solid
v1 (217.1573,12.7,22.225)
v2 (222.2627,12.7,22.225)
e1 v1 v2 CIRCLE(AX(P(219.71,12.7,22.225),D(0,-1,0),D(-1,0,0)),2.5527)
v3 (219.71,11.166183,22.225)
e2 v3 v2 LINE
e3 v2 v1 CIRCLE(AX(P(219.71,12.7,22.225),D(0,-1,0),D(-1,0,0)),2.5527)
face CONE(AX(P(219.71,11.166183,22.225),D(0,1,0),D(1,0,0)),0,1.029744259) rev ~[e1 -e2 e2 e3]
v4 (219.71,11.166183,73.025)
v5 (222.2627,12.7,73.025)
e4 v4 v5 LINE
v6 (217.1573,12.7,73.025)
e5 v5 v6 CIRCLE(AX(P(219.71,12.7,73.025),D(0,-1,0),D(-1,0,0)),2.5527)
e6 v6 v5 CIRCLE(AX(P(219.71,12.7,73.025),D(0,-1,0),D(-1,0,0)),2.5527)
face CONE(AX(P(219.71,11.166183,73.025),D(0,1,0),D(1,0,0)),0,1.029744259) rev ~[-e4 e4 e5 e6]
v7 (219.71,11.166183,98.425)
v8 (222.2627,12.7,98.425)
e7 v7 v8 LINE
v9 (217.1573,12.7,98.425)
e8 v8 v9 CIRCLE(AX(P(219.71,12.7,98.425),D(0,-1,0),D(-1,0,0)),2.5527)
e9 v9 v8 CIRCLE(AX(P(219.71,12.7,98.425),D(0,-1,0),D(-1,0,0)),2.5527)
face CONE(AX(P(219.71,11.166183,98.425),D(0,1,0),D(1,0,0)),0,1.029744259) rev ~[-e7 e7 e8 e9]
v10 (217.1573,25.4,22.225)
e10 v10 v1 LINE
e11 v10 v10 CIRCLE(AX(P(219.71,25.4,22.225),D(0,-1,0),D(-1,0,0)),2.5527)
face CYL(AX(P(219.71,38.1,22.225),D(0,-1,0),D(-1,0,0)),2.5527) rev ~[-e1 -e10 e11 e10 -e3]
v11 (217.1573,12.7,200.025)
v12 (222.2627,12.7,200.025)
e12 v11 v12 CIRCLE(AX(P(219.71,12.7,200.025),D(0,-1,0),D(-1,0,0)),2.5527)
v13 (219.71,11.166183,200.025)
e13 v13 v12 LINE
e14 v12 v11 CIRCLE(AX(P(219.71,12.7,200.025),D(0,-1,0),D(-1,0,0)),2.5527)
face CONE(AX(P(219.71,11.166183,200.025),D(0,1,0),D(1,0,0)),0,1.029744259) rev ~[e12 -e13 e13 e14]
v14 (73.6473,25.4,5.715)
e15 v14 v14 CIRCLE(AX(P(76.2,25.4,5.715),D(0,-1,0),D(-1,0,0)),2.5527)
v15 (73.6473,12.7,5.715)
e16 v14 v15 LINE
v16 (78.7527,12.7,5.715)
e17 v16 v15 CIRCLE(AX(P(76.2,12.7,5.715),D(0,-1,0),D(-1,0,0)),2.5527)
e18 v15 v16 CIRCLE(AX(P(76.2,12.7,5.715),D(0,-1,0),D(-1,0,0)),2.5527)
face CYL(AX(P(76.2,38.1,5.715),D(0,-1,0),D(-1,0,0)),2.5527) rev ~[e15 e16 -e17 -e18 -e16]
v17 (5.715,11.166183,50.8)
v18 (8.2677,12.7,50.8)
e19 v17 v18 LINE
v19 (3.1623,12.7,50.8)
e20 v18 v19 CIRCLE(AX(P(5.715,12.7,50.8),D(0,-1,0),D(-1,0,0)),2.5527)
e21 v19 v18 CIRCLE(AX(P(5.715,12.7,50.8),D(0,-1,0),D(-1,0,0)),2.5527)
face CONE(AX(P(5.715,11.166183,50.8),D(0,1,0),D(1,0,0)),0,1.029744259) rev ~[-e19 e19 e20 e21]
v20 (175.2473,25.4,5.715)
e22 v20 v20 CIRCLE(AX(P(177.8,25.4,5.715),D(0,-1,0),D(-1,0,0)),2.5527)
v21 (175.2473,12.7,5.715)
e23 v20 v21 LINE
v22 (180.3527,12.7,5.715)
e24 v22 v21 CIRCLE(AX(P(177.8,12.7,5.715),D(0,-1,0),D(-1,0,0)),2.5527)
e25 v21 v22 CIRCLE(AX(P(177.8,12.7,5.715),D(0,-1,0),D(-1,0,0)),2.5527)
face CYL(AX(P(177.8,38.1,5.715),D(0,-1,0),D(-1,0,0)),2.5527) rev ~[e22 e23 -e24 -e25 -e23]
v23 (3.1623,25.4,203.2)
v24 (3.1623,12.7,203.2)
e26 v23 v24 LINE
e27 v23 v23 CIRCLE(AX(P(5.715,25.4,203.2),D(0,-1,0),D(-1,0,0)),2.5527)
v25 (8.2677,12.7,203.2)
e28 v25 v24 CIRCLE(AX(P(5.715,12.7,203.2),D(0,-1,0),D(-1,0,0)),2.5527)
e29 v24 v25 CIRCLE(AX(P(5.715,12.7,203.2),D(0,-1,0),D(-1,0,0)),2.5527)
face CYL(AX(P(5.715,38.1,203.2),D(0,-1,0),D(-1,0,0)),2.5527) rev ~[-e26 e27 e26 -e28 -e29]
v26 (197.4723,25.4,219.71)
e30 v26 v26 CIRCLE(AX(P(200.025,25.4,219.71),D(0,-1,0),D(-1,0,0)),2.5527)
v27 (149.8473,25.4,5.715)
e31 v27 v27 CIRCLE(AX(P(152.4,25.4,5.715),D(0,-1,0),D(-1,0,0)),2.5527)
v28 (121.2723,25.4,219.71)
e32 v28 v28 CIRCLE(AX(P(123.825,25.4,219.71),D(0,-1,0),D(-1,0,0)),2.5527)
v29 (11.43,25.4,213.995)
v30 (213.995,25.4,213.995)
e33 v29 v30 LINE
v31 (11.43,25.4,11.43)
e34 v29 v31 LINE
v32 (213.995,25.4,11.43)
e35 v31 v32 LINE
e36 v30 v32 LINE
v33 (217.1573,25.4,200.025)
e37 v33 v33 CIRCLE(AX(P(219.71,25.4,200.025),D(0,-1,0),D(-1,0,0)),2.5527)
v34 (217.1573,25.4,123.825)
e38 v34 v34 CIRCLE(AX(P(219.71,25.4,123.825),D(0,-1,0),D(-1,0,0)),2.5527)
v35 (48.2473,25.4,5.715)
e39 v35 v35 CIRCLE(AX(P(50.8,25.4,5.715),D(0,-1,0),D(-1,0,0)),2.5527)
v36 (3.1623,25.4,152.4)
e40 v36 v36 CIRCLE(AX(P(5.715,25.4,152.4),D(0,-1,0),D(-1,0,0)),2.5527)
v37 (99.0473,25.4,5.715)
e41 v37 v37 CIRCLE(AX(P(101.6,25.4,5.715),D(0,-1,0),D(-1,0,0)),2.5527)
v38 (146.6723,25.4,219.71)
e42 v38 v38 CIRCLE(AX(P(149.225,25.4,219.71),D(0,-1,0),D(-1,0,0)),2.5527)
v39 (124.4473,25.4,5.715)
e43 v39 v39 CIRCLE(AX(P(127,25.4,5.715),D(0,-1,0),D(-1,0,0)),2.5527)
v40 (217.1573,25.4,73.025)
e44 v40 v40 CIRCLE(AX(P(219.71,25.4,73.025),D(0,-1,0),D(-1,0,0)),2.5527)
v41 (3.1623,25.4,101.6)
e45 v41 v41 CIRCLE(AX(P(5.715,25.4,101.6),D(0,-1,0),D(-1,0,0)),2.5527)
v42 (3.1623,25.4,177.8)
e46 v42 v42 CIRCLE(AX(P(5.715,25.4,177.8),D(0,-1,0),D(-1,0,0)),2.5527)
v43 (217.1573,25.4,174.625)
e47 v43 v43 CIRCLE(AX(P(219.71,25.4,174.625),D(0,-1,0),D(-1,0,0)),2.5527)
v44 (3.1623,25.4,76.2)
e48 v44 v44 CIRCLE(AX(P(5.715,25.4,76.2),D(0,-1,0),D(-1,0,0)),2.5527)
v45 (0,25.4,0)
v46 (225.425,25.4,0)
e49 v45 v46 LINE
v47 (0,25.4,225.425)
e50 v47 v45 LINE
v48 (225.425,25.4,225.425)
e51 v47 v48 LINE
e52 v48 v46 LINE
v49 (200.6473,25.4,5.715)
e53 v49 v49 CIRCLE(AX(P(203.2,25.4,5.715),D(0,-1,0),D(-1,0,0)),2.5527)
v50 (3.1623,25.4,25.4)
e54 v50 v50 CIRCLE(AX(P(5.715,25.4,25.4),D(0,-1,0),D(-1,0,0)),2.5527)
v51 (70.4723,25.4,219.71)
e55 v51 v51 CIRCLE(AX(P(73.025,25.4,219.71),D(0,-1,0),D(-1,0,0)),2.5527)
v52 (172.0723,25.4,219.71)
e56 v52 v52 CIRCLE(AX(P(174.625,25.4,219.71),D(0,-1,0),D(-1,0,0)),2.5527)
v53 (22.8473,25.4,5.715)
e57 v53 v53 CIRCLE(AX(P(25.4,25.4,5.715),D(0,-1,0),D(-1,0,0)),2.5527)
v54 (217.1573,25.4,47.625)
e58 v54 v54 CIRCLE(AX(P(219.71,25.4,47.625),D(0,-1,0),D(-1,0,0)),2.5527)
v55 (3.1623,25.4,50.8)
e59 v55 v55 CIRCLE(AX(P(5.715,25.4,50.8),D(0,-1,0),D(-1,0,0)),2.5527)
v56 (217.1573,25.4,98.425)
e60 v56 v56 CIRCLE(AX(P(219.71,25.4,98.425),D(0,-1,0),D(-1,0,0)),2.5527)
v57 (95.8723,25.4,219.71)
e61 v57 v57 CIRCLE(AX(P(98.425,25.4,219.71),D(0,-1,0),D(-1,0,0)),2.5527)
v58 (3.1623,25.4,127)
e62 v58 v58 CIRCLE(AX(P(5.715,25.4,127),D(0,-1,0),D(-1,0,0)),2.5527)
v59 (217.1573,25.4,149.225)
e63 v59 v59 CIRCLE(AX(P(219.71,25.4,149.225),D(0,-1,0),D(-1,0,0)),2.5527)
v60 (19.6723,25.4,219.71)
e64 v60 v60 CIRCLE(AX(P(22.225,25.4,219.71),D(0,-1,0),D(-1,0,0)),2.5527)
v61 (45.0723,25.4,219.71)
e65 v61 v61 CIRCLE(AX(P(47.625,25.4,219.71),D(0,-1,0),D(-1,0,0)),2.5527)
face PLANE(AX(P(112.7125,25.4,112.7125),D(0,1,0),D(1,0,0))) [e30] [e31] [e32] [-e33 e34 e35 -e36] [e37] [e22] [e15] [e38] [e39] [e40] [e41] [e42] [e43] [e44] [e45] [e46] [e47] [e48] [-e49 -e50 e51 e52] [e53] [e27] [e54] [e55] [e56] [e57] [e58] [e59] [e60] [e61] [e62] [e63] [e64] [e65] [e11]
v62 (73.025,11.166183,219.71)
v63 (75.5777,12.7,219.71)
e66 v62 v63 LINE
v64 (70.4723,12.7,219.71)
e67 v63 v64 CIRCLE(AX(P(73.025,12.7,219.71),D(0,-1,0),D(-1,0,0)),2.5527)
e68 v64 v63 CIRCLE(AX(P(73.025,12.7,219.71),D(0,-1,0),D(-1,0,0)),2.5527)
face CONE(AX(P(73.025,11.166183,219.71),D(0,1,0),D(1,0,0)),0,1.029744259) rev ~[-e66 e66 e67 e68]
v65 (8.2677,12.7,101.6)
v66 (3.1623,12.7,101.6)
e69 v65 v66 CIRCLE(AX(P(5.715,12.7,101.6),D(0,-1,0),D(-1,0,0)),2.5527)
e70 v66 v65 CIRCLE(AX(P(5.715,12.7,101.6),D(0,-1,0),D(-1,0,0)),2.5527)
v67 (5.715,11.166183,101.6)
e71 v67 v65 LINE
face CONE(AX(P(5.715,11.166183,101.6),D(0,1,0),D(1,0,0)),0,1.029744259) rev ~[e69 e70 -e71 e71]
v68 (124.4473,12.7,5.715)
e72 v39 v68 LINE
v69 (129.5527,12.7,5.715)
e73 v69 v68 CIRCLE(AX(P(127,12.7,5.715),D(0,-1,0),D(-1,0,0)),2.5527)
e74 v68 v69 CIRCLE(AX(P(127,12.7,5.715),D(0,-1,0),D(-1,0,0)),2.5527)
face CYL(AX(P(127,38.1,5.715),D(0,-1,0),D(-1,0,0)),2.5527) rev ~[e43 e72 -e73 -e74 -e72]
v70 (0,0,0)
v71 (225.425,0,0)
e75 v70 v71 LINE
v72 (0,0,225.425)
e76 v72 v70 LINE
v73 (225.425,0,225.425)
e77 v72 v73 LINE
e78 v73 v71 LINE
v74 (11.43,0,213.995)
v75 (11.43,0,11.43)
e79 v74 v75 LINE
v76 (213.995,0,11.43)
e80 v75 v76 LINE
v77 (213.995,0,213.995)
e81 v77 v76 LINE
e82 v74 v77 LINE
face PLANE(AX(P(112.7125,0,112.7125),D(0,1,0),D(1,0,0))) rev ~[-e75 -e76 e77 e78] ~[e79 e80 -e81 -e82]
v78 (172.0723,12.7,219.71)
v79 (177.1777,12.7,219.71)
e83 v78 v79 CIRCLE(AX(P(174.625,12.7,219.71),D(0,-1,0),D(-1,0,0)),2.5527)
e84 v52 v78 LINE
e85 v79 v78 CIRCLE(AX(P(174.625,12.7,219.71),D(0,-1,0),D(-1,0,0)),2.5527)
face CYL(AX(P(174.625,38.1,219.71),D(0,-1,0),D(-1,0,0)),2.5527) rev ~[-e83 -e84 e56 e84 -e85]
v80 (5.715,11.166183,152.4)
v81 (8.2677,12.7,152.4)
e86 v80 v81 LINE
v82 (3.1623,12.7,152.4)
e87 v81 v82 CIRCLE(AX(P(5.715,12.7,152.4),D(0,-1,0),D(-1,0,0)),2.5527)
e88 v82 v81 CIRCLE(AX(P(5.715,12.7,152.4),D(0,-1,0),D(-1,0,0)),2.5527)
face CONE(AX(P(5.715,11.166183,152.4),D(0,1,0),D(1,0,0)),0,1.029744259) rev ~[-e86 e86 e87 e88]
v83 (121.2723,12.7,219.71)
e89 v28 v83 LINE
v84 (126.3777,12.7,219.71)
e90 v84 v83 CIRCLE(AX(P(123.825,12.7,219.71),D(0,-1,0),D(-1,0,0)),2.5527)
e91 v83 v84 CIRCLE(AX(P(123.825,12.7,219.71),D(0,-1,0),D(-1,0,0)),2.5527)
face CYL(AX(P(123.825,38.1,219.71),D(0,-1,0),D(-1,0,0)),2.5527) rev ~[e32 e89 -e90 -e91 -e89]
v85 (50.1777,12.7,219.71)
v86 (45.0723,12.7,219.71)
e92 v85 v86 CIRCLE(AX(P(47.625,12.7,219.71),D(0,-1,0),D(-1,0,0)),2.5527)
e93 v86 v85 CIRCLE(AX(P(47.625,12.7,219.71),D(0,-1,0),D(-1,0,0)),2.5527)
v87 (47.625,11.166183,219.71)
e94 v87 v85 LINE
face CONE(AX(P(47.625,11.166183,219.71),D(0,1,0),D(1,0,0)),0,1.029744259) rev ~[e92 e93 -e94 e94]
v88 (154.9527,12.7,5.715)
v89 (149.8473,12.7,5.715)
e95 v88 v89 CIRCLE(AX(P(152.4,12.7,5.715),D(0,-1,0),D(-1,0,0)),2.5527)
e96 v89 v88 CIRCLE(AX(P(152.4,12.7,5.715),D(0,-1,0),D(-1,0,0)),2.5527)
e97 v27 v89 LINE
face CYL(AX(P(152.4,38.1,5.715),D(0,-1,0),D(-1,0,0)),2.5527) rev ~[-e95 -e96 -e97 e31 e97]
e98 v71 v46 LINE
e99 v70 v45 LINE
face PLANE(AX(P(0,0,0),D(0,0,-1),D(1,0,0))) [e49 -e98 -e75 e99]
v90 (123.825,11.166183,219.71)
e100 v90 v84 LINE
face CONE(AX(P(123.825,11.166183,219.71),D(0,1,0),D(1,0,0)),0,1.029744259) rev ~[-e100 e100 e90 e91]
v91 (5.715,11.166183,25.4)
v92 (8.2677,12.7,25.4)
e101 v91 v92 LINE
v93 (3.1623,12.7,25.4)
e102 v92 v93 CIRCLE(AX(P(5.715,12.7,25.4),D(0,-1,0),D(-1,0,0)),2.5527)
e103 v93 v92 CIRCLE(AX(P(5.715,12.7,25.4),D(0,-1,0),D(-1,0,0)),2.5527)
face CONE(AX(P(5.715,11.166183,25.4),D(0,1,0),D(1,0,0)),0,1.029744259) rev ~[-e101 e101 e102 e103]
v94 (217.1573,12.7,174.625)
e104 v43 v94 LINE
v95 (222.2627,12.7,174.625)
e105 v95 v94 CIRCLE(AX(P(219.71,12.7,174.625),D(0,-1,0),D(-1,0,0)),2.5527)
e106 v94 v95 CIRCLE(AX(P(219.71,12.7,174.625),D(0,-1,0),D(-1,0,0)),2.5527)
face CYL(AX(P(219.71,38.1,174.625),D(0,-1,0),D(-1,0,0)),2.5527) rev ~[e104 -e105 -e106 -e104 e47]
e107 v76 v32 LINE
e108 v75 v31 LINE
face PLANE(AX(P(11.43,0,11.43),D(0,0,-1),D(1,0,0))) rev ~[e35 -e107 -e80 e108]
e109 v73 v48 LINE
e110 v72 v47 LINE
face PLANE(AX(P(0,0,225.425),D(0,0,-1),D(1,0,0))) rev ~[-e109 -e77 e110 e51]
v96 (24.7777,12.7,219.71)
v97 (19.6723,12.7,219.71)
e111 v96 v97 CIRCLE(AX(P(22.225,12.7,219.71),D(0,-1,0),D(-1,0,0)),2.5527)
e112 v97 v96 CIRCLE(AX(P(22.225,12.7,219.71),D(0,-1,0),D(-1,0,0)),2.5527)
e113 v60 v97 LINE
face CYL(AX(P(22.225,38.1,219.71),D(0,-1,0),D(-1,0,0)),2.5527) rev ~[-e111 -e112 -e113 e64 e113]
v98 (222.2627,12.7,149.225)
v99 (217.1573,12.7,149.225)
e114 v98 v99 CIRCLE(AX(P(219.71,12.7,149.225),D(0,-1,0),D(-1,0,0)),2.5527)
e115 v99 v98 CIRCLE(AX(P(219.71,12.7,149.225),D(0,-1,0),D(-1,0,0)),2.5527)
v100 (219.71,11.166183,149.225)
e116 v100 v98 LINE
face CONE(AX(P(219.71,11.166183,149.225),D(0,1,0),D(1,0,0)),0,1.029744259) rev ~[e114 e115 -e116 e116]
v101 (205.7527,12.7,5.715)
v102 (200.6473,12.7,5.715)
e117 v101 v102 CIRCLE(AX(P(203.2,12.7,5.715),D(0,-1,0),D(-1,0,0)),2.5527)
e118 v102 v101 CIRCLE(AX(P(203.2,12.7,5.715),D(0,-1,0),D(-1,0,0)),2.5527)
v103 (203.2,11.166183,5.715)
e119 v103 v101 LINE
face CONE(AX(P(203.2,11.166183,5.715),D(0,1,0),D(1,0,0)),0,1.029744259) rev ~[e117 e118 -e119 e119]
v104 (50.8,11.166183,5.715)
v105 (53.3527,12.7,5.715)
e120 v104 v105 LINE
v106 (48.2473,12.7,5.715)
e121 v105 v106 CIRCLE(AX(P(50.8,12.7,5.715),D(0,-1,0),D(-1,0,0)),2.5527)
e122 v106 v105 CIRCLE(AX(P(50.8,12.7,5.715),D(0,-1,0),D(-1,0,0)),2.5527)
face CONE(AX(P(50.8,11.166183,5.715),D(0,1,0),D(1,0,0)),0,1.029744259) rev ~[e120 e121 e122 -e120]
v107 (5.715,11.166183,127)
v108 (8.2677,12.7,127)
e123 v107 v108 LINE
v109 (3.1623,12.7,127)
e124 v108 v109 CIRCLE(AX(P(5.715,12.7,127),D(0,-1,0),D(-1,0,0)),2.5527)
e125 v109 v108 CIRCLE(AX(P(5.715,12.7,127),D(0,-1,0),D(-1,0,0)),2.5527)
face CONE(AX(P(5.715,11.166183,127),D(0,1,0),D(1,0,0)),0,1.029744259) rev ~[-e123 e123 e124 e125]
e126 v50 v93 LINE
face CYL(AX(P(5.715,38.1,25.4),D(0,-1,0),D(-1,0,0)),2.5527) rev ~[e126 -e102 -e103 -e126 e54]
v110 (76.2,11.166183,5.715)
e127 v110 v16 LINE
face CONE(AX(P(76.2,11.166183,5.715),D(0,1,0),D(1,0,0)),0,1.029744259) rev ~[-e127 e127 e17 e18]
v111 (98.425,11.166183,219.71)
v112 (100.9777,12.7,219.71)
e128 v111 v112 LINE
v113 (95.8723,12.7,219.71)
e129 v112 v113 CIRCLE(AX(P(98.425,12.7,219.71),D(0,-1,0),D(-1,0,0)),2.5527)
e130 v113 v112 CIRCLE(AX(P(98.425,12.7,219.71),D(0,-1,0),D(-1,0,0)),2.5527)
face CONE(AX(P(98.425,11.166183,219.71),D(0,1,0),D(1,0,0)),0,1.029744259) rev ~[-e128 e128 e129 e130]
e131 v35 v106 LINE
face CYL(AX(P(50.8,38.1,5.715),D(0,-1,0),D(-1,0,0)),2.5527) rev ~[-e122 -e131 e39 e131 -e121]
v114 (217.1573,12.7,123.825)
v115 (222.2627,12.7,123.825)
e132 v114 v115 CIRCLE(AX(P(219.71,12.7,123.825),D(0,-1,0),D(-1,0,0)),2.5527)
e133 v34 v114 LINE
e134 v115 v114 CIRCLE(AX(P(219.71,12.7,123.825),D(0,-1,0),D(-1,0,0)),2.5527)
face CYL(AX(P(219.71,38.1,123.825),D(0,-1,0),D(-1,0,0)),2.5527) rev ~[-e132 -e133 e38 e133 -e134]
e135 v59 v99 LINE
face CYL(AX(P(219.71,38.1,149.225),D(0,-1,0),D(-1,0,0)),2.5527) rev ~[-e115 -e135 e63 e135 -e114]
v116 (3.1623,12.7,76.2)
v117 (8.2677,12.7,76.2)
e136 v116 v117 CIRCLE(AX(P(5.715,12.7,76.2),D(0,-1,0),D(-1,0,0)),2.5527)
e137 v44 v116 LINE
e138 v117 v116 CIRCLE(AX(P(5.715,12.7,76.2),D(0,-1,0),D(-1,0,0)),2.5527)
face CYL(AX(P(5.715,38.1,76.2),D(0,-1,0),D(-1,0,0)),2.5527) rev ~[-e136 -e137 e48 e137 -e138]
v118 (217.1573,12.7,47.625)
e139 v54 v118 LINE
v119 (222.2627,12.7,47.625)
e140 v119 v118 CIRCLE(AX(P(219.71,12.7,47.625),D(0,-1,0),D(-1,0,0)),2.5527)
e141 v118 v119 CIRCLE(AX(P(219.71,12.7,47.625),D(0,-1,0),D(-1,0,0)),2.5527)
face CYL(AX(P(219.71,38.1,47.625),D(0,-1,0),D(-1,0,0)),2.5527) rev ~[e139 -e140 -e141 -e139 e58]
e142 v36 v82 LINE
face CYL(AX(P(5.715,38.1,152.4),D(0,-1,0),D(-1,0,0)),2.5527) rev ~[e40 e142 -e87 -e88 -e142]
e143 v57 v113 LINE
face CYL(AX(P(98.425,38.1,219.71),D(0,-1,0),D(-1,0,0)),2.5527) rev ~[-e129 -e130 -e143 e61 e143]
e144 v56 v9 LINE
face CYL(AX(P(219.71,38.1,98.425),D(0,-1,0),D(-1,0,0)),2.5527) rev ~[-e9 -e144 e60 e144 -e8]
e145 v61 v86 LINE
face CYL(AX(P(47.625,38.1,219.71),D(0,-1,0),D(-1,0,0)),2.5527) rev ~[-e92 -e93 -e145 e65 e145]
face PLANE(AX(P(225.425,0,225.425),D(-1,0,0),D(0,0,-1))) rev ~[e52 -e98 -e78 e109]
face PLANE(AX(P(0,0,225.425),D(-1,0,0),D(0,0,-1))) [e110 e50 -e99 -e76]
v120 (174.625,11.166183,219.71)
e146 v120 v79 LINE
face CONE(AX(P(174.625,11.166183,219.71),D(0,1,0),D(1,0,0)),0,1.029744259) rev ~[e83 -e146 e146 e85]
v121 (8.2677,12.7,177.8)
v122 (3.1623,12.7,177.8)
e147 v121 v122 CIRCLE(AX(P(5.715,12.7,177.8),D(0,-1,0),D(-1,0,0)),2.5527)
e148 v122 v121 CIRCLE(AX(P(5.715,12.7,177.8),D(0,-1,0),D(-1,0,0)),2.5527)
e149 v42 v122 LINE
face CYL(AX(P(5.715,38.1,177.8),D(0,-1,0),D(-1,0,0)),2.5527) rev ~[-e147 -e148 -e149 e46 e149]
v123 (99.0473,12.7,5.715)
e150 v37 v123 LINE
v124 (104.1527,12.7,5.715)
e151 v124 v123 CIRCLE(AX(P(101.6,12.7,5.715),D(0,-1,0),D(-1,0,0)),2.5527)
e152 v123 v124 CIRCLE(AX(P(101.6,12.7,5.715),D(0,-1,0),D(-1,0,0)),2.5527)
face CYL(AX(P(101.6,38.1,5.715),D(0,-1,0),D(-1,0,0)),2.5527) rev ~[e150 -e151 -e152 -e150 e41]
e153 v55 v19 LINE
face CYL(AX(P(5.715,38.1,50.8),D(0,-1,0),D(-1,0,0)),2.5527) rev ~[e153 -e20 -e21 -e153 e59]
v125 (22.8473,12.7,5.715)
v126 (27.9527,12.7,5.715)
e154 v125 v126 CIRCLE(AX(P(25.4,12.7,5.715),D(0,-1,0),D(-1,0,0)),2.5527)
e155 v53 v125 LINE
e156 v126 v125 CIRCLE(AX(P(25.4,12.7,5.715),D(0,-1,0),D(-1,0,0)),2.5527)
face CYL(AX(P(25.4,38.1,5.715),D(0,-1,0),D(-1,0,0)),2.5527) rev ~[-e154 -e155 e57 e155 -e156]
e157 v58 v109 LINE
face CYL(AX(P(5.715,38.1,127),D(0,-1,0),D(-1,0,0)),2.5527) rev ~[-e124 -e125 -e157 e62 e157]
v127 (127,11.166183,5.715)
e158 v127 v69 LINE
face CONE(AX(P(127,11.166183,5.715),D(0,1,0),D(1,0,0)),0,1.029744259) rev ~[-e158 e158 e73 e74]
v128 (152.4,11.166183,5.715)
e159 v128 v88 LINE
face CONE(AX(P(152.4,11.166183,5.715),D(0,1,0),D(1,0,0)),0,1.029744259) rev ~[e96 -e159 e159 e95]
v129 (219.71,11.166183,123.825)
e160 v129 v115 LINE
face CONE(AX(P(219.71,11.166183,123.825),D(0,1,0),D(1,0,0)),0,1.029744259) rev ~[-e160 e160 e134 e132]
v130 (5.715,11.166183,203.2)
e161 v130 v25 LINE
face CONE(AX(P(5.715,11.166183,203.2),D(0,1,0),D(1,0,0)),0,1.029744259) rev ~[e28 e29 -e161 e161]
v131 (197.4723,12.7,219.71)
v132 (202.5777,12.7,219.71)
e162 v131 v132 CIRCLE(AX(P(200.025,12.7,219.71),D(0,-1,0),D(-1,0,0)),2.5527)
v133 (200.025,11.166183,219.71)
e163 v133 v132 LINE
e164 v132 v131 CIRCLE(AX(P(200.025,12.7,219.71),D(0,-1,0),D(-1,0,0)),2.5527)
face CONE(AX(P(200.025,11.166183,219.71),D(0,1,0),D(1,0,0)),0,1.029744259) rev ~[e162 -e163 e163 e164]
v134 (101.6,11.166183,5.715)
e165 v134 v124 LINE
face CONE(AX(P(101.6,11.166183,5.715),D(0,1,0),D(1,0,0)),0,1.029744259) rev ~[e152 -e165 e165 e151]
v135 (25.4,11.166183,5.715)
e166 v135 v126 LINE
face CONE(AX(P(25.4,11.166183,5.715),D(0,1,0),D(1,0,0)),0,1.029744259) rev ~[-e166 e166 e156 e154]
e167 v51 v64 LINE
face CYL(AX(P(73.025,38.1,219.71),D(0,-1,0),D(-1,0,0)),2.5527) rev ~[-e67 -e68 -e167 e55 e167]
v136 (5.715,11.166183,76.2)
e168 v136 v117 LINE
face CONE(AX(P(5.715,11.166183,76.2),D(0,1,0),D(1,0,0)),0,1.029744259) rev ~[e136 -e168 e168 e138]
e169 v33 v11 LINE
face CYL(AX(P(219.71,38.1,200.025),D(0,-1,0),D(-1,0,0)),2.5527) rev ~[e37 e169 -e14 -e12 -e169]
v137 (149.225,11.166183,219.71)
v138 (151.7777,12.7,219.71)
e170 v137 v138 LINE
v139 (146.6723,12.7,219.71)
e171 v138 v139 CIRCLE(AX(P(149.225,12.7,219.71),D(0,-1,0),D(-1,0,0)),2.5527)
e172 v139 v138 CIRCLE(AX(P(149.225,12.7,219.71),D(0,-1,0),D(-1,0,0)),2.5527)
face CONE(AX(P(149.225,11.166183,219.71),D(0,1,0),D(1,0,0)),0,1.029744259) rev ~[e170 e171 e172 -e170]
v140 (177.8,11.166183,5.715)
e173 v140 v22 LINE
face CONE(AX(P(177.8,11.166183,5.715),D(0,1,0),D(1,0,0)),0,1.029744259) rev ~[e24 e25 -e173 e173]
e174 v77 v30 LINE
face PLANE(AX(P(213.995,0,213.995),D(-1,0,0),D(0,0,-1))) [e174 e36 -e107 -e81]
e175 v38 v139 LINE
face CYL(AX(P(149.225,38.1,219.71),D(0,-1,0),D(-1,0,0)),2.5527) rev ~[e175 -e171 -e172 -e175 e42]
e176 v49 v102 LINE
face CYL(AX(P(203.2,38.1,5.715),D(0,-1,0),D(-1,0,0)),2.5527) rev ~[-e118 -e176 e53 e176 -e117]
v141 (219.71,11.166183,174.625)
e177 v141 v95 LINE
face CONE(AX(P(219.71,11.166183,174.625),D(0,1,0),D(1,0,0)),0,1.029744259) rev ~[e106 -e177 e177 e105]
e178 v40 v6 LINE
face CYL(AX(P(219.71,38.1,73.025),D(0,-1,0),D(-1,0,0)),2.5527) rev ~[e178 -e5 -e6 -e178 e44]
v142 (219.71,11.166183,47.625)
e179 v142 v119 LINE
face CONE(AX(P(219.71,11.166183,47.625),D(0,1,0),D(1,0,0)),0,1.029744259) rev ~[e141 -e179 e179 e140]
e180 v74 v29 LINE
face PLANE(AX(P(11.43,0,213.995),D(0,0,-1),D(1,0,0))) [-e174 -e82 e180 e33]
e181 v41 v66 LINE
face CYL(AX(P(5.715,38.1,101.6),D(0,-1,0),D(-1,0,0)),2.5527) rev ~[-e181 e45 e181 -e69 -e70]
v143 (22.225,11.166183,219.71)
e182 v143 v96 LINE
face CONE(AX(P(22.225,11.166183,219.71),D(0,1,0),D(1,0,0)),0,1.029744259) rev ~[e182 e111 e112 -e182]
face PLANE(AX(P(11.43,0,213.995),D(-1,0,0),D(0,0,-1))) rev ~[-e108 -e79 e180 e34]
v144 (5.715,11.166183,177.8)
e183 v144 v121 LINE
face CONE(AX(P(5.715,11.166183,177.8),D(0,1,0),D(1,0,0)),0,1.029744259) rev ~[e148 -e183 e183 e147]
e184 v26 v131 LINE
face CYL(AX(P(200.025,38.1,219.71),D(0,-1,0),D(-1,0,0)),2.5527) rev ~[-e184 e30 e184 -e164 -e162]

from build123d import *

# Parameters (mm, degrees)
SKETCH1_W                       = 225.425
SKETCH1_H                       = 225.425
SKETCH1_W_2                     = 202.565
SKETCH1_H_2                     = 202.565
BOSS_EXTRUDE1_DEPTH             = 25.4
TAP_DRILL_FOR_1_4_20_TAP1_D     = 5.1054
TAP_DRILL_FOR_1_4_20_TAP1_DEPTH = 12.7
TAP_DRILL_FOR_1_4_20_TAP1_TIP   = 1.533816902


with BuildPart() as part:
    # Sketch1 → Boss-Extrude1 (new body)
    with BuildSketch(Plane(origin=(0, 0, 0), x_dir=(1, 0, 0), z_dir=(0, 1, 0))):
        with Locations((112.7125, -112.7125)):
            Rectangle(SKETCH1_W, SKETCH1_H)
        with Locations((112.7125, -112.7125)):
            Rectangle(SKETCH1_W_2, SKETCH1_H_2, mode=Mode.SUBTRACT)
    extrude(amount=BOSS_EXTRUDE1_DEPTH)

    # Tap Drill for 1/4-20 Tap1
    with Locations(Plane(origin=(0, 25.4, 0), x_dir=(1, 0, 0), z_dir=(0, 1, 0))):
        with Locations((25.4, -5.715), (50.8, -5.715), (76.2, -5.715), (101.6, -5.715), (127, -5.715), (152.4, -5.715), (177.8, -5.715), (203.2, -5.715), (5.715, -25.4), (5.715, -50.8), (5.715, -76.2), (5.715, -101.6), (5.715, -127), (5.715, -152.4), (5.715, -177.8), (5.715, -203.2), (219.71, -22.225), (219.71, -47.625), (219.71, -73.025), (219.71, -98.425), (219.71, -123.825), (219.71, -149.225), (219.71, -174.625), (219.71, -200.025), (22.225, -219.71), (47.625, -219.71), (73.025, -219.71), (98.425, -219.71), (123.825, -219.71), (149.225, -219.71), (174.625, -219.71), (200.025, -219.71)):
            Hole(TAP_DRILL_FOR_1_4_20_TAP1_D / 2, depth=TAP_DRILL_FOR_1_4_20_TAP1_DEPTH)
            with Locations((0, 0, -(TAP_DRILL_FOR_1_4_20_TAP1_DEPTH + TAP_DRILL_FOR_1_4_20_TAP1_TIP / 2))):  # 118° drill point
                Cone(0, TAP_DRILL_FOR_1_4_20_TAP1_D / 2, TAP_DRILL_FOR_1_4_20_TAP1_TIP, mode=Mode.SUBTRACT)


solid = part.part
